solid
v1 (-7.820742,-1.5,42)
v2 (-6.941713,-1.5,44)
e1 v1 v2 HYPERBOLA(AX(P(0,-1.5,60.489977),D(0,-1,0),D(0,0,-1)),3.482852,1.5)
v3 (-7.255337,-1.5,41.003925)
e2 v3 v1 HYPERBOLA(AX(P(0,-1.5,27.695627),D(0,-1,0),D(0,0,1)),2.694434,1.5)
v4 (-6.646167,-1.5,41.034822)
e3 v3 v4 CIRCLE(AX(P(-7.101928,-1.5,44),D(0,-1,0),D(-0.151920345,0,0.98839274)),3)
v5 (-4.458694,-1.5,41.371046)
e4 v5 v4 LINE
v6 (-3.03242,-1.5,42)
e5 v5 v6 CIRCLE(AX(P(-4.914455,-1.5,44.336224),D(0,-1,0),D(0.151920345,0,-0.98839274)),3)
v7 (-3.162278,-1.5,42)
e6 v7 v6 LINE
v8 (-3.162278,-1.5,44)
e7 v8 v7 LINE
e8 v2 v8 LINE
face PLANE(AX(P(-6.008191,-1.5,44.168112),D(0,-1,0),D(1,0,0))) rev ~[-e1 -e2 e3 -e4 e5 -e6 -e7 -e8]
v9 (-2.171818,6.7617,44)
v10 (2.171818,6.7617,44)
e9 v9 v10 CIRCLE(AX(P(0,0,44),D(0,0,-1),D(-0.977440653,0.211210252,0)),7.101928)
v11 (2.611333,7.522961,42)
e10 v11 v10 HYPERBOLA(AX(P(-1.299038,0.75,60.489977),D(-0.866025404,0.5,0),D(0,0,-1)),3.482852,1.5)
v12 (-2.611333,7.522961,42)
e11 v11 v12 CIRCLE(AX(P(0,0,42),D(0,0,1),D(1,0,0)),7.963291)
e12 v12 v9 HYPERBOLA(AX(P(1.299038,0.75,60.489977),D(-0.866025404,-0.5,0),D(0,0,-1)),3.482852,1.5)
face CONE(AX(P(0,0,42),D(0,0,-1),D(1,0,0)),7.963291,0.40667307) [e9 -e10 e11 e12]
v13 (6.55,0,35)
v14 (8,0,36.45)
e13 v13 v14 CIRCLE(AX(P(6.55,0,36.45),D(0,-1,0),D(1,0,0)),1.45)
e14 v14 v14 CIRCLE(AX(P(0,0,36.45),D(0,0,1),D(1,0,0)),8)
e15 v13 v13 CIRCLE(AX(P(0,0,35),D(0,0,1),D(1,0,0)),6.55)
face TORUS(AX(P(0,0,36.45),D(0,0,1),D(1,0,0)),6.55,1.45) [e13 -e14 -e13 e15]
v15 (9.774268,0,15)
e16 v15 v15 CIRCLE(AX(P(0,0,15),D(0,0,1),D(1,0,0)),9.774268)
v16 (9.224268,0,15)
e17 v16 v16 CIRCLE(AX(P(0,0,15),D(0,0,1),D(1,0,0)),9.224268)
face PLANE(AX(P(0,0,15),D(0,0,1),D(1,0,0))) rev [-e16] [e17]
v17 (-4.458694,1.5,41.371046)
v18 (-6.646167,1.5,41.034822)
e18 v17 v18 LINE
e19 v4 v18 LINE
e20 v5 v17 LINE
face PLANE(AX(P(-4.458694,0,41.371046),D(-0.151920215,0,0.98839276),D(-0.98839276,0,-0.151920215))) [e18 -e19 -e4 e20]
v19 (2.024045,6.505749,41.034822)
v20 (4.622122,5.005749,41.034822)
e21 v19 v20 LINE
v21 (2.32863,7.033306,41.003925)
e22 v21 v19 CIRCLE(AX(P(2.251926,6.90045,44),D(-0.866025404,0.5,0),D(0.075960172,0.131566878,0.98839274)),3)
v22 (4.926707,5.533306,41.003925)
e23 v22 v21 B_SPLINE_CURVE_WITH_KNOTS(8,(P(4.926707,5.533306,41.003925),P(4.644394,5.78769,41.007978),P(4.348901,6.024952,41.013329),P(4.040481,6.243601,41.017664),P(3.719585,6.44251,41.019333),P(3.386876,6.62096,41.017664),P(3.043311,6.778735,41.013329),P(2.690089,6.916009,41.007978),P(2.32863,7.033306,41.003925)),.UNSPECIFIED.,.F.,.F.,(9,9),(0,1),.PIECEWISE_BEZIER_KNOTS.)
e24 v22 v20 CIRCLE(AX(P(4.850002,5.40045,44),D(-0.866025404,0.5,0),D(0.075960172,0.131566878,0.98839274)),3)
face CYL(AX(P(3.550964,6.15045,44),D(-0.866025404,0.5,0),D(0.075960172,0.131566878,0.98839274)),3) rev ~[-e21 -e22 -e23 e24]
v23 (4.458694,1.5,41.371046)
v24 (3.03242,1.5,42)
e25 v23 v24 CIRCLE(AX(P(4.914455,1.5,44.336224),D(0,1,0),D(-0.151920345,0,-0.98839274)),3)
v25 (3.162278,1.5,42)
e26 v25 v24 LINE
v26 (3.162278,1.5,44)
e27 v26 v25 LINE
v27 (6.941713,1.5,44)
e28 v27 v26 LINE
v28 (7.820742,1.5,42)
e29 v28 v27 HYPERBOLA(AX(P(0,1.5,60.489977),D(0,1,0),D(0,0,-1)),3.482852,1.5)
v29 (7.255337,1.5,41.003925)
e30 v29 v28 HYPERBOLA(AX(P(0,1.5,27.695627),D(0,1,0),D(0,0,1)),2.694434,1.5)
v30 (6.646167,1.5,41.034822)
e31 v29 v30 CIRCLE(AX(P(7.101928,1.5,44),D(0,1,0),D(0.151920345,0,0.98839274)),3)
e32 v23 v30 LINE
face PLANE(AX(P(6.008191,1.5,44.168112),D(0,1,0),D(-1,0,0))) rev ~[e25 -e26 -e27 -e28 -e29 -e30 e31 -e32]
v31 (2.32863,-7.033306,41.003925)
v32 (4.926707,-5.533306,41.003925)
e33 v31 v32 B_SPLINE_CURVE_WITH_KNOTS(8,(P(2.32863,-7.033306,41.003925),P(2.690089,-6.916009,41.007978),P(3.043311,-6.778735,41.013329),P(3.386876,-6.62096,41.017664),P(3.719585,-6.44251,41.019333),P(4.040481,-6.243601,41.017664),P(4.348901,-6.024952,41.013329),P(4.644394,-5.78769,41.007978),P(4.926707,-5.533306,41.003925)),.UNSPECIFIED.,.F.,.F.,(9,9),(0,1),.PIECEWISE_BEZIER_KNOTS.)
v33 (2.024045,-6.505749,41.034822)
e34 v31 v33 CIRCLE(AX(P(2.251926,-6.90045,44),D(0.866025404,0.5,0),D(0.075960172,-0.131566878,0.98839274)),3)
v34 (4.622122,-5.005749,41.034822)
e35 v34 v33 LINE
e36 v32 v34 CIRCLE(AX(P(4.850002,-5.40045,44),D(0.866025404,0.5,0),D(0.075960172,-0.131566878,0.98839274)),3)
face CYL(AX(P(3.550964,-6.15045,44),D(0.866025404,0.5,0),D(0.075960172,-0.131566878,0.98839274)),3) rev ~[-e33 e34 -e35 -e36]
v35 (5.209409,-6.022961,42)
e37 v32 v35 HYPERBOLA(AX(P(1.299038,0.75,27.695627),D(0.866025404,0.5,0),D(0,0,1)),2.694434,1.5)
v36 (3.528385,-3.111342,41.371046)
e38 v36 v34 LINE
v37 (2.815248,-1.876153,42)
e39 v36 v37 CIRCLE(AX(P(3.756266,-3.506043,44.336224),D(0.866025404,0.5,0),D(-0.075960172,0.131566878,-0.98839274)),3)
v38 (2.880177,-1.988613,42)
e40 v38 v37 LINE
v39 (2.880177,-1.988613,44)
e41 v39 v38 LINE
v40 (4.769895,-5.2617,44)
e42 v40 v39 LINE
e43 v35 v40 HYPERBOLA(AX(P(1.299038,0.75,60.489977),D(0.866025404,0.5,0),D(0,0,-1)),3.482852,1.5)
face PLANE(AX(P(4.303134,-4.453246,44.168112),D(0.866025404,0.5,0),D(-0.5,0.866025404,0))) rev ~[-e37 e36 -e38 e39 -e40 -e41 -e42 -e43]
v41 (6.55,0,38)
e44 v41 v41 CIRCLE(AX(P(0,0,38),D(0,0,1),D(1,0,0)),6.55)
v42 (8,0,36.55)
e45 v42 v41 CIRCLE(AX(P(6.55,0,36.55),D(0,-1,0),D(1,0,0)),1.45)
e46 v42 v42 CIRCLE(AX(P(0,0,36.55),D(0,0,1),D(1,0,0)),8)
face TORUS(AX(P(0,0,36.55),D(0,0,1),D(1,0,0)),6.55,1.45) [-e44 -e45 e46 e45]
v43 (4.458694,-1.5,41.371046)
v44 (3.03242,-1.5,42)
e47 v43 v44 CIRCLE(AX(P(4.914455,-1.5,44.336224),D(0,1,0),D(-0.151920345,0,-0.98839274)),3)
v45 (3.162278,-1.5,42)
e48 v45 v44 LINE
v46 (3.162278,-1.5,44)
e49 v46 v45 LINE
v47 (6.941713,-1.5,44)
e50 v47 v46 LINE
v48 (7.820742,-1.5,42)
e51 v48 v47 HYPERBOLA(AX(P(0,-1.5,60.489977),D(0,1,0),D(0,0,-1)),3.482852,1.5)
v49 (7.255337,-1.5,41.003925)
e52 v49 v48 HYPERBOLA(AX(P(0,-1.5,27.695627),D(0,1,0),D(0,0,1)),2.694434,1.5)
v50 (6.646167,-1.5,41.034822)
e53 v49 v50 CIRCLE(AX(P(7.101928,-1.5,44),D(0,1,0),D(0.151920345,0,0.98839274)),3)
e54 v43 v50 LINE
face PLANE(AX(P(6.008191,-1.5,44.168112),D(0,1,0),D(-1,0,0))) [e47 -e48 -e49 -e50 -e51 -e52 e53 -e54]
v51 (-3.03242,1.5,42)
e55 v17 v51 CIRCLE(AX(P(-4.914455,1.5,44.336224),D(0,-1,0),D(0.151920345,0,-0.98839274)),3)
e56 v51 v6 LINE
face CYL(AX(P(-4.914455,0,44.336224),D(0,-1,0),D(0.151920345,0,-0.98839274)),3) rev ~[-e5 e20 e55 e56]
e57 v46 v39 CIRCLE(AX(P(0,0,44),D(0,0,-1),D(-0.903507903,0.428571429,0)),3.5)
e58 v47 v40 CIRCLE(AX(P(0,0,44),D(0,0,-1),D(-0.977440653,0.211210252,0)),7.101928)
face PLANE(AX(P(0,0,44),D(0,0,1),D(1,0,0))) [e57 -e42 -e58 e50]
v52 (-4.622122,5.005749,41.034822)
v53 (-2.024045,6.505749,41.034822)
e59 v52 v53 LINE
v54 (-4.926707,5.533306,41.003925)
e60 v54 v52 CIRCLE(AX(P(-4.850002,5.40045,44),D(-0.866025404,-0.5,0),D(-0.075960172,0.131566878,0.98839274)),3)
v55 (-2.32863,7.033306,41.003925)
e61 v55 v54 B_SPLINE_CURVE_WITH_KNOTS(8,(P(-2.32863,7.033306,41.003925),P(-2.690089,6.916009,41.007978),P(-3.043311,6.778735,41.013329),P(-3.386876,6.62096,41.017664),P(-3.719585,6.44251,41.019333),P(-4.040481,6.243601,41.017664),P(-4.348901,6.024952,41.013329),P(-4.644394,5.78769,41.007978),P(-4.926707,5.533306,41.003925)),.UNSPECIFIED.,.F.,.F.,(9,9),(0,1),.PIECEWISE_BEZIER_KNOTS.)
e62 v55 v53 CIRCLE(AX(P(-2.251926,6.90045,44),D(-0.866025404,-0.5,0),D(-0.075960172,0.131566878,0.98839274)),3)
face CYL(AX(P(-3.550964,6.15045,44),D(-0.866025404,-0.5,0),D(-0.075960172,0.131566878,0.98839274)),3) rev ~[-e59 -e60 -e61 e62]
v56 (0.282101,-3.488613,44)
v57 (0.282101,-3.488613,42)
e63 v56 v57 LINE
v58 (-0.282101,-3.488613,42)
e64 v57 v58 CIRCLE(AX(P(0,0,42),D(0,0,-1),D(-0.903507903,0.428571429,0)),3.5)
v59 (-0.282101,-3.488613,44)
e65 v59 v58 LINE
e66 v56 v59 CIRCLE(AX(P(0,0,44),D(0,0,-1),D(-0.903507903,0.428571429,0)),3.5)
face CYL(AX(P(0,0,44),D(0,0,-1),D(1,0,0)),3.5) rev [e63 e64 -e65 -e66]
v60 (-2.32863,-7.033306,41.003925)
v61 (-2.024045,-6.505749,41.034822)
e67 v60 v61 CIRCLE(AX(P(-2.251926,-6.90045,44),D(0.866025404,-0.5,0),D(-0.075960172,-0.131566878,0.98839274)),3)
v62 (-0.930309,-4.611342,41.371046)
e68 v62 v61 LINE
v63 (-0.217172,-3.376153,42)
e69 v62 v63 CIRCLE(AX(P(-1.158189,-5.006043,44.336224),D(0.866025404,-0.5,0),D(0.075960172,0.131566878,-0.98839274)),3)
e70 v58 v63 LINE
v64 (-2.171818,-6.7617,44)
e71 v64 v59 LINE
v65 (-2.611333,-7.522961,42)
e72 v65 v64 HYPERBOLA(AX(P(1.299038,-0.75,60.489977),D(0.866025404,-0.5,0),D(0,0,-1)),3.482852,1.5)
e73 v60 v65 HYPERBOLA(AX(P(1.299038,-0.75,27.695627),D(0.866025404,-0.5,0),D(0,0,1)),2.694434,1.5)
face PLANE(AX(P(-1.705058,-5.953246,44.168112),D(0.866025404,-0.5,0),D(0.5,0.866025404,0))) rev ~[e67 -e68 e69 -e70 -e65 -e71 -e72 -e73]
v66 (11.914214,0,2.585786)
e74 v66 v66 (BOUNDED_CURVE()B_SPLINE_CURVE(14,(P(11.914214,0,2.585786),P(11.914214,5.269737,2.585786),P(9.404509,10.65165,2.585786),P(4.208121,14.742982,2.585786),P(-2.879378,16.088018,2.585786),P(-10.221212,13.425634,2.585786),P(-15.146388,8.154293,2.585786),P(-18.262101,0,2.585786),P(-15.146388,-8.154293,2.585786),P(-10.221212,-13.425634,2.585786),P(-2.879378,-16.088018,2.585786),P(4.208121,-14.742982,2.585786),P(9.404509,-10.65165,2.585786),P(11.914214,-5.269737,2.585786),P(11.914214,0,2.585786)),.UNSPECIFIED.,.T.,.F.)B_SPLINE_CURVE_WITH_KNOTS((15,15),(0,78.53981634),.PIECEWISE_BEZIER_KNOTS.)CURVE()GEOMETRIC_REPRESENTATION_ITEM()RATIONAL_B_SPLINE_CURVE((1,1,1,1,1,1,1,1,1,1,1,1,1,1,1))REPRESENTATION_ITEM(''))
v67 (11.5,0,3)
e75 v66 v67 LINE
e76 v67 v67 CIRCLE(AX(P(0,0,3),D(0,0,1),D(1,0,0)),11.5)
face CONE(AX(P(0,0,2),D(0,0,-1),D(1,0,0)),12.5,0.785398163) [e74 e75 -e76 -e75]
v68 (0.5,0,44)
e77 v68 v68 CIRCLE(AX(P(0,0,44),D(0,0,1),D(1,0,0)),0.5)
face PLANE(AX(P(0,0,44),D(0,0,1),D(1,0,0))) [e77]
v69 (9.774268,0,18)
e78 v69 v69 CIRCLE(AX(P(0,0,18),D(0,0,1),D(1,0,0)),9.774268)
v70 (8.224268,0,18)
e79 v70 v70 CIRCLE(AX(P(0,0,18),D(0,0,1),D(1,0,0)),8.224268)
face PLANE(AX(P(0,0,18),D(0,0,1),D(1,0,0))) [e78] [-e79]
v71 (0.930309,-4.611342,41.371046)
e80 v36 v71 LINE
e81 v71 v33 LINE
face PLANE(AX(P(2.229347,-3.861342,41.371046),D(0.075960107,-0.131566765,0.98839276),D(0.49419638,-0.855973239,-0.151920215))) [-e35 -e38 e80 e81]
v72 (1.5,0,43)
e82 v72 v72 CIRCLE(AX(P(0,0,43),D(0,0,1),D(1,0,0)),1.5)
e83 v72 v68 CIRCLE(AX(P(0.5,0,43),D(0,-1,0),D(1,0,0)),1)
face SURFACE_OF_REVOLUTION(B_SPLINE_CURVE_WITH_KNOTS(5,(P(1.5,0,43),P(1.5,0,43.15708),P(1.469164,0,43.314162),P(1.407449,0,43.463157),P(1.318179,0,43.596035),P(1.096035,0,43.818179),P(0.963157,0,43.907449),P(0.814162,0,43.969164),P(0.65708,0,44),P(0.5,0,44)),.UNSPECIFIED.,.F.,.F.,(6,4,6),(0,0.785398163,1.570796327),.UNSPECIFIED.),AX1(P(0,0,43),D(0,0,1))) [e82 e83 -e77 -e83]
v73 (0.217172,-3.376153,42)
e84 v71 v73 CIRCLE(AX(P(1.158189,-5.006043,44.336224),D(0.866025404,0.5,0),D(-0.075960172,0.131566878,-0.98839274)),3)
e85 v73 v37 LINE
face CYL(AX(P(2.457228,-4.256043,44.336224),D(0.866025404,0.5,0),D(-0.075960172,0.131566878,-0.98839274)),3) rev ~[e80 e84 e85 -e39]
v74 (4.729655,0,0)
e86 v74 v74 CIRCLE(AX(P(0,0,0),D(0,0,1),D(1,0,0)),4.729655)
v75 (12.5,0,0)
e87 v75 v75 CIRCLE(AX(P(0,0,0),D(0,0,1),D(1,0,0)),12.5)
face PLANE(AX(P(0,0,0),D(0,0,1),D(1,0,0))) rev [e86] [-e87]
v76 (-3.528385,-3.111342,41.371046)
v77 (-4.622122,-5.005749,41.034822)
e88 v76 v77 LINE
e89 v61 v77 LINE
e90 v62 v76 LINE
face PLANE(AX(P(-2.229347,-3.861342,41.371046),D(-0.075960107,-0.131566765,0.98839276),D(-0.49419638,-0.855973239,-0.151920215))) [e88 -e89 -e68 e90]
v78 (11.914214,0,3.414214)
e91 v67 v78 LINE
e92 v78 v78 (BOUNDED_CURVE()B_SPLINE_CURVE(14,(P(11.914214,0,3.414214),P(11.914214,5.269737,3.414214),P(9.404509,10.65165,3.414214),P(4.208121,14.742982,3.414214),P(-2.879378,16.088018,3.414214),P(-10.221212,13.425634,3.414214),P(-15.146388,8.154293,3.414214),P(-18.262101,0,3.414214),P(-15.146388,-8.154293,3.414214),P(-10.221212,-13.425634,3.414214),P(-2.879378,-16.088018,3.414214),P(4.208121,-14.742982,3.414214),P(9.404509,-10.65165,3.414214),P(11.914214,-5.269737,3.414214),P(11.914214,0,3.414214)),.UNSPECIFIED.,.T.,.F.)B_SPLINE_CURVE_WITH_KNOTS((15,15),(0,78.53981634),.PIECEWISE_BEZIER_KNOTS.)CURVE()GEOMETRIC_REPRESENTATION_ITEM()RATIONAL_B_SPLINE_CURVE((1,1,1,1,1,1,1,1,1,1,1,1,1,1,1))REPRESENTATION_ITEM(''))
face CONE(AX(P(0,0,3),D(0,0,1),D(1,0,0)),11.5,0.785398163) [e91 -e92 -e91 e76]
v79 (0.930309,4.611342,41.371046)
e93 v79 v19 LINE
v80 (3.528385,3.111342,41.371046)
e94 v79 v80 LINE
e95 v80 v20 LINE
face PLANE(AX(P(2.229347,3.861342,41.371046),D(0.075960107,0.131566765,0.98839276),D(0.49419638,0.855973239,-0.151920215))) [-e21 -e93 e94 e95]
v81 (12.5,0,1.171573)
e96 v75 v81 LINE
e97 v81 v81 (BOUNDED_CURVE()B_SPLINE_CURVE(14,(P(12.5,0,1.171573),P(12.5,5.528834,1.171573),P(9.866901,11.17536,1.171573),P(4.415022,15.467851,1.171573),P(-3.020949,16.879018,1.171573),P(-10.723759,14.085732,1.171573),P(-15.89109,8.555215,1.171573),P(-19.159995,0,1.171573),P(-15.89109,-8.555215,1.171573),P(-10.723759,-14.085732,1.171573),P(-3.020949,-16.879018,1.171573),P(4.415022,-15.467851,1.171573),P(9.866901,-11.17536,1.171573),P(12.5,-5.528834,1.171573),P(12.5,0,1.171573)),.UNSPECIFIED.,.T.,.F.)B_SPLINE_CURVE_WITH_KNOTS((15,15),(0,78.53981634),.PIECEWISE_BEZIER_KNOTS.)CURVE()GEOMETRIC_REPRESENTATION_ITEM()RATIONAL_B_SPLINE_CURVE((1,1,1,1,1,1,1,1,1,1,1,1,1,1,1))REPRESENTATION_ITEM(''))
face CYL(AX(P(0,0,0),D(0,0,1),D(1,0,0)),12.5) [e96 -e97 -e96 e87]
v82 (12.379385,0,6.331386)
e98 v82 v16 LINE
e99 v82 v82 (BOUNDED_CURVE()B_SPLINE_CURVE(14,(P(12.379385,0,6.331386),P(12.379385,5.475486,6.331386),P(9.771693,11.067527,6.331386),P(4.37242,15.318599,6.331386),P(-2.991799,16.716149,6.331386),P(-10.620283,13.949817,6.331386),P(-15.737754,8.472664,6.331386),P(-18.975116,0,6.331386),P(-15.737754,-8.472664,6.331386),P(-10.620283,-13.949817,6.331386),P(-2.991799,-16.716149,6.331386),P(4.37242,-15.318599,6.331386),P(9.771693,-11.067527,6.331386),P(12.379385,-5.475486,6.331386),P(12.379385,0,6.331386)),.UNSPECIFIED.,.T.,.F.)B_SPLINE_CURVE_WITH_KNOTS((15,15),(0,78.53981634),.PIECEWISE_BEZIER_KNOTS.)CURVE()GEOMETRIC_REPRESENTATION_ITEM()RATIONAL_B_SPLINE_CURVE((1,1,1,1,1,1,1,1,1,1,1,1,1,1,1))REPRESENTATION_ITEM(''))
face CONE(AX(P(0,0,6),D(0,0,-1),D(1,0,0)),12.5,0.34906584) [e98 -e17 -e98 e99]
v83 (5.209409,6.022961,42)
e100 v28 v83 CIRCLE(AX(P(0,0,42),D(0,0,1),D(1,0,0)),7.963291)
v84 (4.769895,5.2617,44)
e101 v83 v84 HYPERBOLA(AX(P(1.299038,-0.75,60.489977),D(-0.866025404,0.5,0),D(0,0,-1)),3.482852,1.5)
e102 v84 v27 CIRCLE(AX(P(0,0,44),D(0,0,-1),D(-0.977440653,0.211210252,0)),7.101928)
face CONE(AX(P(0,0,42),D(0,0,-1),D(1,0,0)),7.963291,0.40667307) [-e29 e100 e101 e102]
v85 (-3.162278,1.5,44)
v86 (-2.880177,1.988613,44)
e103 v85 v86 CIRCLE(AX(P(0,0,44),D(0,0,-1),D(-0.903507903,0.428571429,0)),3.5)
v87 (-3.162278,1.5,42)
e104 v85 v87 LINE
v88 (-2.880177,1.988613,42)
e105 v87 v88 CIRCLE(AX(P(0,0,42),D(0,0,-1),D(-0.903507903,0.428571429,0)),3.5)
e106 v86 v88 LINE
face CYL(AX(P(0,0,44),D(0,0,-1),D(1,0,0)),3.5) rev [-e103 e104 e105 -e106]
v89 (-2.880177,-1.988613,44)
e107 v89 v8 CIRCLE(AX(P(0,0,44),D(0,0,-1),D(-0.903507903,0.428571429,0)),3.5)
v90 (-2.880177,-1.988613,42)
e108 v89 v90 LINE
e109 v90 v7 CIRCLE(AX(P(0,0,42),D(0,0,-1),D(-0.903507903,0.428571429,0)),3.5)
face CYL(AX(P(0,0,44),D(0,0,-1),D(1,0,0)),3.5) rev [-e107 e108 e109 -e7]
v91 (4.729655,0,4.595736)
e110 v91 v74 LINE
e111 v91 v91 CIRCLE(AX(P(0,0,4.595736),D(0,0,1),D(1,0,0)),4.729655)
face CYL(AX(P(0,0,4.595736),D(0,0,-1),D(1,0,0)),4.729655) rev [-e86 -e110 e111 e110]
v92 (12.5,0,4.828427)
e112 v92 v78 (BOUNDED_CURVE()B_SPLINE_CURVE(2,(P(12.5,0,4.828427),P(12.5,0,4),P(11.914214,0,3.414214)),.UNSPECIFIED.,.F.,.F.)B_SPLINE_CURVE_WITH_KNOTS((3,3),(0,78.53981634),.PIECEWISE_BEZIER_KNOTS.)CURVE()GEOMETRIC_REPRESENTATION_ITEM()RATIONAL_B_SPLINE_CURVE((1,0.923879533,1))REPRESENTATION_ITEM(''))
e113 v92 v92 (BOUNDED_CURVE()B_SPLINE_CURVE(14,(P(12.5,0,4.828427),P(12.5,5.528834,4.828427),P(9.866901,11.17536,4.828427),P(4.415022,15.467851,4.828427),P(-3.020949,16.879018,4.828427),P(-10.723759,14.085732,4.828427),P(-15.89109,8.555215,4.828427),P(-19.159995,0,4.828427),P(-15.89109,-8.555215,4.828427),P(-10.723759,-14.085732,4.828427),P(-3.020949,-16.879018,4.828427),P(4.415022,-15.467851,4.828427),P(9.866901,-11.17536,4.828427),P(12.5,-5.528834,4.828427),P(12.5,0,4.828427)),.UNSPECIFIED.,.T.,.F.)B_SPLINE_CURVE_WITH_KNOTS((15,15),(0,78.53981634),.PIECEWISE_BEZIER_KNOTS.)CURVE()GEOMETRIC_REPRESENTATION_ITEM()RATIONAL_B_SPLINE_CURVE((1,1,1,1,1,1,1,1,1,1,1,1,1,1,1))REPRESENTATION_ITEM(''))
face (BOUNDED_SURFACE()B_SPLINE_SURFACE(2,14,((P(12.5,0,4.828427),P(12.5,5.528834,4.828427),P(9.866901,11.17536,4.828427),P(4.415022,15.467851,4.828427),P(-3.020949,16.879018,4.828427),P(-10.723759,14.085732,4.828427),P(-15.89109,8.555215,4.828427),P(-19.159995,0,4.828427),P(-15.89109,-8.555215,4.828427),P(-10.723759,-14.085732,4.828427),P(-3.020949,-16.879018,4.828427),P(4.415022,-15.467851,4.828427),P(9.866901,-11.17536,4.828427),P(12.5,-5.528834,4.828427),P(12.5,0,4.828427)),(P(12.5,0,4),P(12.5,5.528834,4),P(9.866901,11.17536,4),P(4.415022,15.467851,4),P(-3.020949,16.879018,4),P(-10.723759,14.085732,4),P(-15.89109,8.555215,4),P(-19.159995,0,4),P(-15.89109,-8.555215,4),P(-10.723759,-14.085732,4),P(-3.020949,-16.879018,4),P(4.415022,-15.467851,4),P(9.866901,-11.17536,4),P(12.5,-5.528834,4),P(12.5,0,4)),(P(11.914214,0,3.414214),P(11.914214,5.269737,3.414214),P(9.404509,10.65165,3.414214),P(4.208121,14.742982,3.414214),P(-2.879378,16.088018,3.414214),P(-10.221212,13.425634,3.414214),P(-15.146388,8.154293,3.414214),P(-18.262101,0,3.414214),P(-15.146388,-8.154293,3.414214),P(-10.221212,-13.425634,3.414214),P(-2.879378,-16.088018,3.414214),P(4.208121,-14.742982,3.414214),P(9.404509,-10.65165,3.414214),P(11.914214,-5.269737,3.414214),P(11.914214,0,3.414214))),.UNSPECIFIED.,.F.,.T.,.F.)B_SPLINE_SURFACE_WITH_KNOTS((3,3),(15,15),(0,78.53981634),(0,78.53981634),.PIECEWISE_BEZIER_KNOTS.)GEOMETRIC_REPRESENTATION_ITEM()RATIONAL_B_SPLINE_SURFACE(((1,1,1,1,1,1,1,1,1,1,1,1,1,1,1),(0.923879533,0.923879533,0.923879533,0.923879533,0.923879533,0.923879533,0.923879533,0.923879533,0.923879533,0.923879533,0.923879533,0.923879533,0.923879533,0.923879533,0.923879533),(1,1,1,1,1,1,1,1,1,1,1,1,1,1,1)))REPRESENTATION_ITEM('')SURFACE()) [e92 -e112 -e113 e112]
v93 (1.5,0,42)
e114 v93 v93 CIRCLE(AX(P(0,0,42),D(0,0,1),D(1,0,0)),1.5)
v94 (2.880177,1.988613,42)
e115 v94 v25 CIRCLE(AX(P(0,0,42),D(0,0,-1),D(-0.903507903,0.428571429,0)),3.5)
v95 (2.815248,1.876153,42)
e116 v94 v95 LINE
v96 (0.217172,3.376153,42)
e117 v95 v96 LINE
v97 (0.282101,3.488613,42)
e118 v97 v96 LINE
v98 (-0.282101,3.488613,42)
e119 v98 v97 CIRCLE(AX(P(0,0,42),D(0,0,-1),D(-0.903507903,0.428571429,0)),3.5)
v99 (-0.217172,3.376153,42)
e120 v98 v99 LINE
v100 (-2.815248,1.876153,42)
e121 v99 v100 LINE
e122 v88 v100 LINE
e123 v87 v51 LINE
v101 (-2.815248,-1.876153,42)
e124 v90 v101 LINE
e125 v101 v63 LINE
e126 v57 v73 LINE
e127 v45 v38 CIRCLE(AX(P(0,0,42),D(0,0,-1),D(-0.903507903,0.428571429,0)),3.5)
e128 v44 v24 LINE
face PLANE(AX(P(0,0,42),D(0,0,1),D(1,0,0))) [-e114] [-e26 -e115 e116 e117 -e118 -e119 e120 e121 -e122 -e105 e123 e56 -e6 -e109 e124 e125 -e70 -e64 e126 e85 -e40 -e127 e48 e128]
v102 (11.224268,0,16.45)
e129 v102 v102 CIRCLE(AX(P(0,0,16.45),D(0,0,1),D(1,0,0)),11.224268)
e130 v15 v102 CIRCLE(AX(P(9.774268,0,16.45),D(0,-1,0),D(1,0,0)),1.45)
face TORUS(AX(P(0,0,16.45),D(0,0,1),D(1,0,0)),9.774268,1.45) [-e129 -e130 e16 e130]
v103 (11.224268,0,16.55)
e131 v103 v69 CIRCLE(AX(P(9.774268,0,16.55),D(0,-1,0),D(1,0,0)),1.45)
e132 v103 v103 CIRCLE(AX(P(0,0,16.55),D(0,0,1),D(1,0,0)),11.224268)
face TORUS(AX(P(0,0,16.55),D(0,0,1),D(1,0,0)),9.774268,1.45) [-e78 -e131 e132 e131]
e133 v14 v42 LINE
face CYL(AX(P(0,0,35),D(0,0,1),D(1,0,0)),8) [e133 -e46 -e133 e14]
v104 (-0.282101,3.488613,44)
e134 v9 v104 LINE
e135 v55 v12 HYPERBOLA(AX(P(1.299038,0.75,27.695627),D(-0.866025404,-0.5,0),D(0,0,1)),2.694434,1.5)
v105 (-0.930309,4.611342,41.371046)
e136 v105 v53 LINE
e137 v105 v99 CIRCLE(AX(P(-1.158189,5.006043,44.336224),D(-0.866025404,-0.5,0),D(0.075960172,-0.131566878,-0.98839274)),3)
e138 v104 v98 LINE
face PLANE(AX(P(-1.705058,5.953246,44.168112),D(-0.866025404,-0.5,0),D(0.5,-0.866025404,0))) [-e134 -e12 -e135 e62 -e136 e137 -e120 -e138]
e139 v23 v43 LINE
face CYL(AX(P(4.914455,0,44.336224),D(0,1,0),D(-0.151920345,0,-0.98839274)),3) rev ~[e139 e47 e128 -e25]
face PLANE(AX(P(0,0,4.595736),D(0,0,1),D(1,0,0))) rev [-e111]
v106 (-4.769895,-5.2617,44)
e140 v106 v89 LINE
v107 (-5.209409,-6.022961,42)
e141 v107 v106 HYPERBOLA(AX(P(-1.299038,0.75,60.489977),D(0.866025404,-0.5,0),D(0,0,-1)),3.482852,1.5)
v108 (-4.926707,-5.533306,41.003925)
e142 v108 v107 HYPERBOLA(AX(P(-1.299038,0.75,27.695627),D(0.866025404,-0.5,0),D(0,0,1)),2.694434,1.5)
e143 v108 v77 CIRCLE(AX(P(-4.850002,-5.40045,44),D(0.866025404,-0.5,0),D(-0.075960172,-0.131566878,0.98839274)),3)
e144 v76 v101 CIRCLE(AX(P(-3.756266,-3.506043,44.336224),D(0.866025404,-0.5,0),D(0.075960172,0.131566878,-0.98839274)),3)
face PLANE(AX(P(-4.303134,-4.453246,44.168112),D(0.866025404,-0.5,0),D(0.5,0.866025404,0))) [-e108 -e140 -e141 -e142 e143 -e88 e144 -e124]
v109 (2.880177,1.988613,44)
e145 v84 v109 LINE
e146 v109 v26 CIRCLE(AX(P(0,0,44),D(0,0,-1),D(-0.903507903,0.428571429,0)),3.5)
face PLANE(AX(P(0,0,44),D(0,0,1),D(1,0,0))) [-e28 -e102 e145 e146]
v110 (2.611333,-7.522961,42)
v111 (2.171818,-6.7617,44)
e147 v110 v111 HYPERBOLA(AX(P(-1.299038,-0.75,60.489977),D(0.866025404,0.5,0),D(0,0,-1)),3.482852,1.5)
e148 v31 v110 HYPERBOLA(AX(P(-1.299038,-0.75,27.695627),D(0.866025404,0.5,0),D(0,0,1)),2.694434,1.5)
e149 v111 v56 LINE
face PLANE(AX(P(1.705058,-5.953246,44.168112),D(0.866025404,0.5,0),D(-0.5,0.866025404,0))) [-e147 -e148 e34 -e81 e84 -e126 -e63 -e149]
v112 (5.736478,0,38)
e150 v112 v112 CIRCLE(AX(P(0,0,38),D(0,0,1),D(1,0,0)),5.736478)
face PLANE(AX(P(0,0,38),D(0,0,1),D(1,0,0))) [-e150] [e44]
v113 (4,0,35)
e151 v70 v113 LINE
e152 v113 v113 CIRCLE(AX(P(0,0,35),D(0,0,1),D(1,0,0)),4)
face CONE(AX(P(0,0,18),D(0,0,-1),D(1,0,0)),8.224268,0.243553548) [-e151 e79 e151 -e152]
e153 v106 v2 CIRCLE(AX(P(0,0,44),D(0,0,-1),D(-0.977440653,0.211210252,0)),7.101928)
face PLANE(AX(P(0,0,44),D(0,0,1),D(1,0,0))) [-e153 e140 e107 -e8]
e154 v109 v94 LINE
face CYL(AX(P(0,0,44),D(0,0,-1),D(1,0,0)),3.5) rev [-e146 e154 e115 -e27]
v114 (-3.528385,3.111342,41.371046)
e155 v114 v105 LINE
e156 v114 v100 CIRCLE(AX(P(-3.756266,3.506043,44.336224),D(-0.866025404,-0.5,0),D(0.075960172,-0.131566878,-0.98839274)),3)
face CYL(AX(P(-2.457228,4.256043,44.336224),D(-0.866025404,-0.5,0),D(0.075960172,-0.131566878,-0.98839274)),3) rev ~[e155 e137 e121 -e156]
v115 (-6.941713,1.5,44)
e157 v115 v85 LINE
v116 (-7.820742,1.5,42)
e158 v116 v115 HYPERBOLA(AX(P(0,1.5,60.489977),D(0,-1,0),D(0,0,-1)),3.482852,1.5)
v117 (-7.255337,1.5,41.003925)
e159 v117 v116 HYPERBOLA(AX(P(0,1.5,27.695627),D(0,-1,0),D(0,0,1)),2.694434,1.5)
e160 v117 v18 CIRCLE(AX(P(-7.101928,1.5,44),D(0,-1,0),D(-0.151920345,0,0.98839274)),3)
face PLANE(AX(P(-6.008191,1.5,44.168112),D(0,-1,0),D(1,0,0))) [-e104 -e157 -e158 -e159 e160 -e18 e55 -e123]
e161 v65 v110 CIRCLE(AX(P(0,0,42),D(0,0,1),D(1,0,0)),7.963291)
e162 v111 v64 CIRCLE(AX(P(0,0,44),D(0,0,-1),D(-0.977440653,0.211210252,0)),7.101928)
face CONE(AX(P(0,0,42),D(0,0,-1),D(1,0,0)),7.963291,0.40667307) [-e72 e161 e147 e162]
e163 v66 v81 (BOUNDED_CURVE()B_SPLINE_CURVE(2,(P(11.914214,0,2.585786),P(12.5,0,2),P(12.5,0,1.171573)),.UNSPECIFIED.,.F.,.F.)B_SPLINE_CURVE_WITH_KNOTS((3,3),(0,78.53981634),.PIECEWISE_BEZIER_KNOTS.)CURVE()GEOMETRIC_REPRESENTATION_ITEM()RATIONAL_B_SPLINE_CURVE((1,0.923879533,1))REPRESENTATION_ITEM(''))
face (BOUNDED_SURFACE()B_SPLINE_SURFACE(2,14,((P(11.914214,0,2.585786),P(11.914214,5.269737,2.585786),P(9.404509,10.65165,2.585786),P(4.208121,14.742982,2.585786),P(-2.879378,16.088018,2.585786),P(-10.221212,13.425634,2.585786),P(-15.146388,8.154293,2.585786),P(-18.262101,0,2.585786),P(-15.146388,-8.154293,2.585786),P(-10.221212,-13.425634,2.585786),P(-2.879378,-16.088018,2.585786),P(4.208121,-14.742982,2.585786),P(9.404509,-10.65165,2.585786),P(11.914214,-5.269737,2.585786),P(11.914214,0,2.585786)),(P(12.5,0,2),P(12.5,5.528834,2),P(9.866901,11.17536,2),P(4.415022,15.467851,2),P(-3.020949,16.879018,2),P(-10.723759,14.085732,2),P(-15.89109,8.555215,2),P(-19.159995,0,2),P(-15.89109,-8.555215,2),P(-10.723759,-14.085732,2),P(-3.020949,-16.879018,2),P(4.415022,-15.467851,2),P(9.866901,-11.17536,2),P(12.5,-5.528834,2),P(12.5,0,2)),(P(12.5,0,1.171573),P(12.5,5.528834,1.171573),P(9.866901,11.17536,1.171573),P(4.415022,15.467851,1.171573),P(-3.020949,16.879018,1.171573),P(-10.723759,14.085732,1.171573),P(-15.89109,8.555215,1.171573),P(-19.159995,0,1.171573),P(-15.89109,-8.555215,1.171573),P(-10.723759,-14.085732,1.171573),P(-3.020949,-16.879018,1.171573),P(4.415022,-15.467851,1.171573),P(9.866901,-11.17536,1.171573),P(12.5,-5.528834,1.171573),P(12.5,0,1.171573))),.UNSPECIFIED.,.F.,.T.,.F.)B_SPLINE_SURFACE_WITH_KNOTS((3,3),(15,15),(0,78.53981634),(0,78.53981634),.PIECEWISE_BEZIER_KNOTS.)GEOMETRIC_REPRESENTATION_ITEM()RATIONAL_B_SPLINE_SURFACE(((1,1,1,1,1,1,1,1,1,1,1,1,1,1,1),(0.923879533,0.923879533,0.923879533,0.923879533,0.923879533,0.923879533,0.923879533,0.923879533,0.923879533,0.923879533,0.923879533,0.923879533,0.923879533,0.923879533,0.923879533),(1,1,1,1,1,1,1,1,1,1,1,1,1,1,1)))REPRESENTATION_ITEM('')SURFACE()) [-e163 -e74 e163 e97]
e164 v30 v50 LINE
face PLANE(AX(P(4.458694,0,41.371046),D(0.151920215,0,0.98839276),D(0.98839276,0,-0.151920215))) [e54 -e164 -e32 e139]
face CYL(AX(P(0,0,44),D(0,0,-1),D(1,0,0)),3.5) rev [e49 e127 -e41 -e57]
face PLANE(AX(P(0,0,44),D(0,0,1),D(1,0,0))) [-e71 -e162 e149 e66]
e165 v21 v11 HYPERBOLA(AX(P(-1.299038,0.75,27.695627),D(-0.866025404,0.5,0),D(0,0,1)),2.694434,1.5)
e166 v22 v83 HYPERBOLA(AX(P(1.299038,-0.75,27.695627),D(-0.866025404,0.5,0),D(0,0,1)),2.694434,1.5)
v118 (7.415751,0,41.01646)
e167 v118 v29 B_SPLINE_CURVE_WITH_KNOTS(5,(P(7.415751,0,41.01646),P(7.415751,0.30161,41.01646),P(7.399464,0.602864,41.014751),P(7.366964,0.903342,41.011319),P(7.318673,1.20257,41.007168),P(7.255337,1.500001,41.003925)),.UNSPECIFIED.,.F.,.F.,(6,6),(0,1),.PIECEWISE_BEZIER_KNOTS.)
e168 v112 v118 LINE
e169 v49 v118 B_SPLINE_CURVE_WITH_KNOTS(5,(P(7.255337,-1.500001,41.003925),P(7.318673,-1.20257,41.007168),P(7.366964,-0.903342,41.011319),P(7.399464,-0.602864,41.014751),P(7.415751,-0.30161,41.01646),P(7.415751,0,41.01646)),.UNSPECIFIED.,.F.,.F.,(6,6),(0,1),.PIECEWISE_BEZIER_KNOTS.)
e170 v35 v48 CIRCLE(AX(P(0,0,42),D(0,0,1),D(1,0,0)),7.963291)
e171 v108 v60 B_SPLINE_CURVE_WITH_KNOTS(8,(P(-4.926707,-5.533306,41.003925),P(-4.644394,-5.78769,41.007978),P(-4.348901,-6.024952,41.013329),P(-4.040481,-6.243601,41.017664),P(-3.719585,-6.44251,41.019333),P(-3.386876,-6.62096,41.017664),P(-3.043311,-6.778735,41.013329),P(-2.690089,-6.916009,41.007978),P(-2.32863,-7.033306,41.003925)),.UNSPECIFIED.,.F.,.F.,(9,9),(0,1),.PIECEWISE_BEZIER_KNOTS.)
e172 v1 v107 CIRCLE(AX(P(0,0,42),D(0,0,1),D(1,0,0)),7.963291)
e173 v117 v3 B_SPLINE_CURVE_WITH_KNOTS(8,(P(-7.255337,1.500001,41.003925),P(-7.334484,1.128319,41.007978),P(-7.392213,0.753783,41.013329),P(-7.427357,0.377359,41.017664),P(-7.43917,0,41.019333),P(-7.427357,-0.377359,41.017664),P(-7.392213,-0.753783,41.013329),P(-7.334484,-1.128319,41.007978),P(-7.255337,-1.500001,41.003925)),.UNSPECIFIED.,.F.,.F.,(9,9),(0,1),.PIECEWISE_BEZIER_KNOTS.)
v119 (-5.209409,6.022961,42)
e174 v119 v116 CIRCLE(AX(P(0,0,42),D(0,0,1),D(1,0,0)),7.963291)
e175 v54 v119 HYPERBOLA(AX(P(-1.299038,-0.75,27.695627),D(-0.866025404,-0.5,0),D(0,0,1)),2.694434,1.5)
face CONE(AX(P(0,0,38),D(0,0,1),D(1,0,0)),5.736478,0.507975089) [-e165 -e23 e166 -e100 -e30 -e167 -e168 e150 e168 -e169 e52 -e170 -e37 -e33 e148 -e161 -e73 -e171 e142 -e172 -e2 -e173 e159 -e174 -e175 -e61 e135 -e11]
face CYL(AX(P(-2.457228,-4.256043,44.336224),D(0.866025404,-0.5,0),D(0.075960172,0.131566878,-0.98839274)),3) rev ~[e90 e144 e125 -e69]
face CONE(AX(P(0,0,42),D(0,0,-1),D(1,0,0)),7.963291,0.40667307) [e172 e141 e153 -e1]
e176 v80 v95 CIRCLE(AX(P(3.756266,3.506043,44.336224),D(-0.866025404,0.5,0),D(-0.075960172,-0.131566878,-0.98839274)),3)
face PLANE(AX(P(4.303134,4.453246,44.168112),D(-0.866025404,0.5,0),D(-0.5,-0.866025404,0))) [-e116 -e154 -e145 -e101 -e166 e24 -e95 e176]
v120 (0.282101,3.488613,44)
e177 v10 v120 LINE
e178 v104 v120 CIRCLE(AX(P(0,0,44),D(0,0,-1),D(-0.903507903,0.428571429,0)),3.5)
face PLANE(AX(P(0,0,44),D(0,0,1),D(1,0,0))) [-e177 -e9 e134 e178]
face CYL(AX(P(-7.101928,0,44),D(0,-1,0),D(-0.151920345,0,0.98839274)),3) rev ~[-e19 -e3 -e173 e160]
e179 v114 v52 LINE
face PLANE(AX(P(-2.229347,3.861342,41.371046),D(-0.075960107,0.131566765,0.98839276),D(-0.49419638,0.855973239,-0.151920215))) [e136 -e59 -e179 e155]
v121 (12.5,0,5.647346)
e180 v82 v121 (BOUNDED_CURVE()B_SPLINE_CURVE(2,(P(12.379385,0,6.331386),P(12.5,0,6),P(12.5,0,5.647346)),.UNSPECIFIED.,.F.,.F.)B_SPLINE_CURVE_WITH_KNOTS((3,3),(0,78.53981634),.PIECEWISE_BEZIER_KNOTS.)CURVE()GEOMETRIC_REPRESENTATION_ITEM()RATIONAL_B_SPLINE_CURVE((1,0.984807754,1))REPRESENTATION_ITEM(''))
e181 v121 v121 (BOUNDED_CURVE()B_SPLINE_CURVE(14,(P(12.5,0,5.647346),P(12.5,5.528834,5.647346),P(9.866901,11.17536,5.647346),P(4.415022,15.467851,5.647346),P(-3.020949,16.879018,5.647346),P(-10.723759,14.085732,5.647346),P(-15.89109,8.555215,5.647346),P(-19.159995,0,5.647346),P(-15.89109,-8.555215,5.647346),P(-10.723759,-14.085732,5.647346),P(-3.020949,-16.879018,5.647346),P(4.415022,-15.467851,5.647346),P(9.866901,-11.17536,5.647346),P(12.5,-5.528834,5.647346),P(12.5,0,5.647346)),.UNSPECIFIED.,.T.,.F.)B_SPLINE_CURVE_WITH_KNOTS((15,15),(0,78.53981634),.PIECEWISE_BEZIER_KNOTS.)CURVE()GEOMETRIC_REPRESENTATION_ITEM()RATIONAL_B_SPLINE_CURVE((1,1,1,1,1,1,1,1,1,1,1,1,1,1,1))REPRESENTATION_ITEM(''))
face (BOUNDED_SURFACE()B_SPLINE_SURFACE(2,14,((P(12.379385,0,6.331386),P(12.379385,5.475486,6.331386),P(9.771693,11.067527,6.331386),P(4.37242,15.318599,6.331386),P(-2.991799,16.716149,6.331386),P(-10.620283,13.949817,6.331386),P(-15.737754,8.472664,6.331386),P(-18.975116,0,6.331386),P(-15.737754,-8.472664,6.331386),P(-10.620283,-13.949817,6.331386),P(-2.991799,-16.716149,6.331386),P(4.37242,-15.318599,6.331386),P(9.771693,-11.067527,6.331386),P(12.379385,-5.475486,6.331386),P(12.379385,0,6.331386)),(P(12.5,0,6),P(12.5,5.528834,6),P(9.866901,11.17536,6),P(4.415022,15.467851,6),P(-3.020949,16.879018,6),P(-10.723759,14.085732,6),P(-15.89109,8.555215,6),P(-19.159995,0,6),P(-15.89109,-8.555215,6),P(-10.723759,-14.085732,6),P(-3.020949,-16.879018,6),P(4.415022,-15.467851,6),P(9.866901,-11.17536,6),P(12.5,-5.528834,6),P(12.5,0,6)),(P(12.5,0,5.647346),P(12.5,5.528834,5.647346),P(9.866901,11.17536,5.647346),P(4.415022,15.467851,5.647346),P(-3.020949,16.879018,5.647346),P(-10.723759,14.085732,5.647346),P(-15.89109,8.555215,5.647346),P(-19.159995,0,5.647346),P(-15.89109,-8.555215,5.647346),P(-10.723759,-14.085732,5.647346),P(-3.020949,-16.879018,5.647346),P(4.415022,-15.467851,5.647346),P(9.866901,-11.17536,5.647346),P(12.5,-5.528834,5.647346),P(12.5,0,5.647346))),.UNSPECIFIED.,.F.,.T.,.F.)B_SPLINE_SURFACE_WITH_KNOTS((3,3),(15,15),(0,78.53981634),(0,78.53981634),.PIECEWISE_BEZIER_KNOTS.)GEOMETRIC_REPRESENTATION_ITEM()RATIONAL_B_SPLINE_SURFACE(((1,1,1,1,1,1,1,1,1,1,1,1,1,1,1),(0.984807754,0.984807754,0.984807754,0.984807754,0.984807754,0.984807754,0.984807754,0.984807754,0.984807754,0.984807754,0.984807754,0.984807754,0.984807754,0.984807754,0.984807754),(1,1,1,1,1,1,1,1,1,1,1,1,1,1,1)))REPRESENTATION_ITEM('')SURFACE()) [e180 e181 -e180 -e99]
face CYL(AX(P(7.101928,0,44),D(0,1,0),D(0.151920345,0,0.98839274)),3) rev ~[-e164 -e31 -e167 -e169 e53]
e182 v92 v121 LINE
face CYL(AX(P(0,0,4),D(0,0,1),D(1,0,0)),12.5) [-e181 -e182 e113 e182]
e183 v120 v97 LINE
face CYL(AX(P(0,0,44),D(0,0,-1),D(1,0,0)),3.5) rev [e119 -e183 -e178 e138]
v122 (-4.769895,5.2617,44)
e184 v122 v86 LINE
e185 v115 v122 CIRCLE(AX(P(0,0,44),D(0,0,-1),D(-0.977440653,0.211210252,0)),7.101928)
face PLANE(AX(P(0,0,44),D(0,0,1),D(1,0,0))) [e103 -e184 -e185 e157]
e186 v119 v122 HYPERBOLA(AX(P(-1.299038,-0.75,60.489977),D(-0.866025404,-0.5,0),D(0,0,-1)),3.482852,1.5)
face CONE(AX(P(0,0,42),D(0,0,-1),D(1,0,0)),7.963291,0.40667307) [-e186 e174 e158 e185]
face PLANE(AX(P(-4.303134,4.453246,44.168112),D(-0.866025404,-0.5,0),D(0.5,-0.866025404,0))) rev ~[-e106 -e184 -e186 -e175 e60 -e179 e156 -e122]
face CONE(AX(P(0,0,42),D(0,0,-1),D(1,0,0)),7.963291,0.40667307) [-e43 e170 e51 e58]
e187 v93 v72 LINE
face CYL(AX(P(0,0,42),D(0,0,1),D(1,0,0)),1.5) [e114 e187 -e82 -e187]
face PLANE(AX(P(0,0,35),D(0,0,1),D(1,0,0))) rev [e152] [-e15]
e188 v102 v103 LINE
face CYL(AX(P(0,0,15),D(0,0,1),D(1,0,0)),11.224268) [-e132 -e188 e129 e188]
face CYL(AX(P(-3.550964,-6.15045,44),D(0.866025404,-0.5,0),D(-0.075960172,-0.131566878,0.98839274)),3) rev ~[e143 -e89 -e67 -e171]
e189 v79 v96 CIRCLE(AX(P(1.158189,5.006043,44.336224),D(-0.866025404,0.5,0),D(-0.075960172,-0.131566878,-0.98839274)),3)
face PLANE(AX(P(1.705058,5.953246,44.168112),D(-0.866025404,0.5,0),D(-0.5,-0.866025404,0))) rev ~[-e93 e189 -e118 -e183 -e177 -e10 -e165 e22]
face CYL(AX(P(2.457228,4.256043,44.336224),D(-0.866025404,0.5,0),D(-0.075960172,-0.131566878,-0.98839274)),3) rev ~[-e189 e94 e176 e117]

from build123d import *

# Parameters (mm, degrees)
FILLET015_R           = 1.45
FILLET016_R           = 2
POCKET003_DEPTH       = 1.5
POLARPATTERN001_COUNT = 6
FILLET018_R           = 1


with BuildPart() as part:
    # Sketch012 → Revolution005 (revolve)
    with BuildSketch(Plane.XZ):
        Polygon((0, 4.595736), (4.729655, 4.595736), (4.729655, 0), (12.5, 0), (12.5, 2), (11.5, 3), (12.5, 4), (12.5, 6), (9.224268, 15), (11.224268, 15), (11.224268, 18), (8.224268, 18), (4, 35), (8, 35), (8, 38), (5.736478, 38), (7.963291, 42), (7.101928, 44), (3.5, 44), (3.5, 42), (1.5, 42), (1.5, 44), (0, 44), align=None)
    revolve(axis=Axis((0, 0, 0), (0, 0, 1)))

    # Fillet015
    fillet015_edges = [part.edges().sort_by_distance(p)[0] for p in [
        (-11.224268, 0, 18),
        (-11.224268, 0, 15),
        (-8, 0, 38),
        (-8, 0, 35),
    ]]
    fillet(fillet015_edges, radius=FILLET015_R)

    # Fillet016
    fillet016_edges = [part.edges().sort_by_distance(p)[0] for p in [
        (-12.5, 0, 6),
        (-12.5, 0, 4),
        (-12.5, 0, 2),
    ]]
    fillet(fillet016_edges, radius=FILLET016_R)

    # Sketch013 → Pocket003 (cut, symmetric)
    with BuildSketch(Plane.XZ):
        with BuildLine():
            ThreePointArc((-4.458694, 41.371046), (-1.949277, 44.791985), (-5.370216, 47.301402))
            Line((-5.370216, 47.301402), (-7.557689, 46.965178))
            ThreePointArc((-7.557689, 46.965178), (-10.067106, 43.544239), (-6.646167, 41.034822))
            Line((-4.458694, 41.371046), (-6.646167, 41.034822))
        make_face()
    pocket003 = extrude(amount=POCKET003_DEPTH, both=True, mode=Mode.SUBTRACT)

    # PolarPattern001: Pocket003 ×6 about axis
    polarpattern001_axis = Axis((0, 0, 0), (0, 0, 1))
    for i in range(1, POLARPATTERN001_COUNT):
        add(pocket003.rotate(polarpattern001_axis, i * 360 / POLARPATTERN001_COUNT), mode=Mode.SUBTRACT)

    # Fillet018
    fillet018_edges = [part.edges().sort_by_distance(p)[0] for p in [
        (-1.5, 0, 44),
    ]]
    fillet(fillet018_edges, radius=FILLET018_R)


solid = part.part
